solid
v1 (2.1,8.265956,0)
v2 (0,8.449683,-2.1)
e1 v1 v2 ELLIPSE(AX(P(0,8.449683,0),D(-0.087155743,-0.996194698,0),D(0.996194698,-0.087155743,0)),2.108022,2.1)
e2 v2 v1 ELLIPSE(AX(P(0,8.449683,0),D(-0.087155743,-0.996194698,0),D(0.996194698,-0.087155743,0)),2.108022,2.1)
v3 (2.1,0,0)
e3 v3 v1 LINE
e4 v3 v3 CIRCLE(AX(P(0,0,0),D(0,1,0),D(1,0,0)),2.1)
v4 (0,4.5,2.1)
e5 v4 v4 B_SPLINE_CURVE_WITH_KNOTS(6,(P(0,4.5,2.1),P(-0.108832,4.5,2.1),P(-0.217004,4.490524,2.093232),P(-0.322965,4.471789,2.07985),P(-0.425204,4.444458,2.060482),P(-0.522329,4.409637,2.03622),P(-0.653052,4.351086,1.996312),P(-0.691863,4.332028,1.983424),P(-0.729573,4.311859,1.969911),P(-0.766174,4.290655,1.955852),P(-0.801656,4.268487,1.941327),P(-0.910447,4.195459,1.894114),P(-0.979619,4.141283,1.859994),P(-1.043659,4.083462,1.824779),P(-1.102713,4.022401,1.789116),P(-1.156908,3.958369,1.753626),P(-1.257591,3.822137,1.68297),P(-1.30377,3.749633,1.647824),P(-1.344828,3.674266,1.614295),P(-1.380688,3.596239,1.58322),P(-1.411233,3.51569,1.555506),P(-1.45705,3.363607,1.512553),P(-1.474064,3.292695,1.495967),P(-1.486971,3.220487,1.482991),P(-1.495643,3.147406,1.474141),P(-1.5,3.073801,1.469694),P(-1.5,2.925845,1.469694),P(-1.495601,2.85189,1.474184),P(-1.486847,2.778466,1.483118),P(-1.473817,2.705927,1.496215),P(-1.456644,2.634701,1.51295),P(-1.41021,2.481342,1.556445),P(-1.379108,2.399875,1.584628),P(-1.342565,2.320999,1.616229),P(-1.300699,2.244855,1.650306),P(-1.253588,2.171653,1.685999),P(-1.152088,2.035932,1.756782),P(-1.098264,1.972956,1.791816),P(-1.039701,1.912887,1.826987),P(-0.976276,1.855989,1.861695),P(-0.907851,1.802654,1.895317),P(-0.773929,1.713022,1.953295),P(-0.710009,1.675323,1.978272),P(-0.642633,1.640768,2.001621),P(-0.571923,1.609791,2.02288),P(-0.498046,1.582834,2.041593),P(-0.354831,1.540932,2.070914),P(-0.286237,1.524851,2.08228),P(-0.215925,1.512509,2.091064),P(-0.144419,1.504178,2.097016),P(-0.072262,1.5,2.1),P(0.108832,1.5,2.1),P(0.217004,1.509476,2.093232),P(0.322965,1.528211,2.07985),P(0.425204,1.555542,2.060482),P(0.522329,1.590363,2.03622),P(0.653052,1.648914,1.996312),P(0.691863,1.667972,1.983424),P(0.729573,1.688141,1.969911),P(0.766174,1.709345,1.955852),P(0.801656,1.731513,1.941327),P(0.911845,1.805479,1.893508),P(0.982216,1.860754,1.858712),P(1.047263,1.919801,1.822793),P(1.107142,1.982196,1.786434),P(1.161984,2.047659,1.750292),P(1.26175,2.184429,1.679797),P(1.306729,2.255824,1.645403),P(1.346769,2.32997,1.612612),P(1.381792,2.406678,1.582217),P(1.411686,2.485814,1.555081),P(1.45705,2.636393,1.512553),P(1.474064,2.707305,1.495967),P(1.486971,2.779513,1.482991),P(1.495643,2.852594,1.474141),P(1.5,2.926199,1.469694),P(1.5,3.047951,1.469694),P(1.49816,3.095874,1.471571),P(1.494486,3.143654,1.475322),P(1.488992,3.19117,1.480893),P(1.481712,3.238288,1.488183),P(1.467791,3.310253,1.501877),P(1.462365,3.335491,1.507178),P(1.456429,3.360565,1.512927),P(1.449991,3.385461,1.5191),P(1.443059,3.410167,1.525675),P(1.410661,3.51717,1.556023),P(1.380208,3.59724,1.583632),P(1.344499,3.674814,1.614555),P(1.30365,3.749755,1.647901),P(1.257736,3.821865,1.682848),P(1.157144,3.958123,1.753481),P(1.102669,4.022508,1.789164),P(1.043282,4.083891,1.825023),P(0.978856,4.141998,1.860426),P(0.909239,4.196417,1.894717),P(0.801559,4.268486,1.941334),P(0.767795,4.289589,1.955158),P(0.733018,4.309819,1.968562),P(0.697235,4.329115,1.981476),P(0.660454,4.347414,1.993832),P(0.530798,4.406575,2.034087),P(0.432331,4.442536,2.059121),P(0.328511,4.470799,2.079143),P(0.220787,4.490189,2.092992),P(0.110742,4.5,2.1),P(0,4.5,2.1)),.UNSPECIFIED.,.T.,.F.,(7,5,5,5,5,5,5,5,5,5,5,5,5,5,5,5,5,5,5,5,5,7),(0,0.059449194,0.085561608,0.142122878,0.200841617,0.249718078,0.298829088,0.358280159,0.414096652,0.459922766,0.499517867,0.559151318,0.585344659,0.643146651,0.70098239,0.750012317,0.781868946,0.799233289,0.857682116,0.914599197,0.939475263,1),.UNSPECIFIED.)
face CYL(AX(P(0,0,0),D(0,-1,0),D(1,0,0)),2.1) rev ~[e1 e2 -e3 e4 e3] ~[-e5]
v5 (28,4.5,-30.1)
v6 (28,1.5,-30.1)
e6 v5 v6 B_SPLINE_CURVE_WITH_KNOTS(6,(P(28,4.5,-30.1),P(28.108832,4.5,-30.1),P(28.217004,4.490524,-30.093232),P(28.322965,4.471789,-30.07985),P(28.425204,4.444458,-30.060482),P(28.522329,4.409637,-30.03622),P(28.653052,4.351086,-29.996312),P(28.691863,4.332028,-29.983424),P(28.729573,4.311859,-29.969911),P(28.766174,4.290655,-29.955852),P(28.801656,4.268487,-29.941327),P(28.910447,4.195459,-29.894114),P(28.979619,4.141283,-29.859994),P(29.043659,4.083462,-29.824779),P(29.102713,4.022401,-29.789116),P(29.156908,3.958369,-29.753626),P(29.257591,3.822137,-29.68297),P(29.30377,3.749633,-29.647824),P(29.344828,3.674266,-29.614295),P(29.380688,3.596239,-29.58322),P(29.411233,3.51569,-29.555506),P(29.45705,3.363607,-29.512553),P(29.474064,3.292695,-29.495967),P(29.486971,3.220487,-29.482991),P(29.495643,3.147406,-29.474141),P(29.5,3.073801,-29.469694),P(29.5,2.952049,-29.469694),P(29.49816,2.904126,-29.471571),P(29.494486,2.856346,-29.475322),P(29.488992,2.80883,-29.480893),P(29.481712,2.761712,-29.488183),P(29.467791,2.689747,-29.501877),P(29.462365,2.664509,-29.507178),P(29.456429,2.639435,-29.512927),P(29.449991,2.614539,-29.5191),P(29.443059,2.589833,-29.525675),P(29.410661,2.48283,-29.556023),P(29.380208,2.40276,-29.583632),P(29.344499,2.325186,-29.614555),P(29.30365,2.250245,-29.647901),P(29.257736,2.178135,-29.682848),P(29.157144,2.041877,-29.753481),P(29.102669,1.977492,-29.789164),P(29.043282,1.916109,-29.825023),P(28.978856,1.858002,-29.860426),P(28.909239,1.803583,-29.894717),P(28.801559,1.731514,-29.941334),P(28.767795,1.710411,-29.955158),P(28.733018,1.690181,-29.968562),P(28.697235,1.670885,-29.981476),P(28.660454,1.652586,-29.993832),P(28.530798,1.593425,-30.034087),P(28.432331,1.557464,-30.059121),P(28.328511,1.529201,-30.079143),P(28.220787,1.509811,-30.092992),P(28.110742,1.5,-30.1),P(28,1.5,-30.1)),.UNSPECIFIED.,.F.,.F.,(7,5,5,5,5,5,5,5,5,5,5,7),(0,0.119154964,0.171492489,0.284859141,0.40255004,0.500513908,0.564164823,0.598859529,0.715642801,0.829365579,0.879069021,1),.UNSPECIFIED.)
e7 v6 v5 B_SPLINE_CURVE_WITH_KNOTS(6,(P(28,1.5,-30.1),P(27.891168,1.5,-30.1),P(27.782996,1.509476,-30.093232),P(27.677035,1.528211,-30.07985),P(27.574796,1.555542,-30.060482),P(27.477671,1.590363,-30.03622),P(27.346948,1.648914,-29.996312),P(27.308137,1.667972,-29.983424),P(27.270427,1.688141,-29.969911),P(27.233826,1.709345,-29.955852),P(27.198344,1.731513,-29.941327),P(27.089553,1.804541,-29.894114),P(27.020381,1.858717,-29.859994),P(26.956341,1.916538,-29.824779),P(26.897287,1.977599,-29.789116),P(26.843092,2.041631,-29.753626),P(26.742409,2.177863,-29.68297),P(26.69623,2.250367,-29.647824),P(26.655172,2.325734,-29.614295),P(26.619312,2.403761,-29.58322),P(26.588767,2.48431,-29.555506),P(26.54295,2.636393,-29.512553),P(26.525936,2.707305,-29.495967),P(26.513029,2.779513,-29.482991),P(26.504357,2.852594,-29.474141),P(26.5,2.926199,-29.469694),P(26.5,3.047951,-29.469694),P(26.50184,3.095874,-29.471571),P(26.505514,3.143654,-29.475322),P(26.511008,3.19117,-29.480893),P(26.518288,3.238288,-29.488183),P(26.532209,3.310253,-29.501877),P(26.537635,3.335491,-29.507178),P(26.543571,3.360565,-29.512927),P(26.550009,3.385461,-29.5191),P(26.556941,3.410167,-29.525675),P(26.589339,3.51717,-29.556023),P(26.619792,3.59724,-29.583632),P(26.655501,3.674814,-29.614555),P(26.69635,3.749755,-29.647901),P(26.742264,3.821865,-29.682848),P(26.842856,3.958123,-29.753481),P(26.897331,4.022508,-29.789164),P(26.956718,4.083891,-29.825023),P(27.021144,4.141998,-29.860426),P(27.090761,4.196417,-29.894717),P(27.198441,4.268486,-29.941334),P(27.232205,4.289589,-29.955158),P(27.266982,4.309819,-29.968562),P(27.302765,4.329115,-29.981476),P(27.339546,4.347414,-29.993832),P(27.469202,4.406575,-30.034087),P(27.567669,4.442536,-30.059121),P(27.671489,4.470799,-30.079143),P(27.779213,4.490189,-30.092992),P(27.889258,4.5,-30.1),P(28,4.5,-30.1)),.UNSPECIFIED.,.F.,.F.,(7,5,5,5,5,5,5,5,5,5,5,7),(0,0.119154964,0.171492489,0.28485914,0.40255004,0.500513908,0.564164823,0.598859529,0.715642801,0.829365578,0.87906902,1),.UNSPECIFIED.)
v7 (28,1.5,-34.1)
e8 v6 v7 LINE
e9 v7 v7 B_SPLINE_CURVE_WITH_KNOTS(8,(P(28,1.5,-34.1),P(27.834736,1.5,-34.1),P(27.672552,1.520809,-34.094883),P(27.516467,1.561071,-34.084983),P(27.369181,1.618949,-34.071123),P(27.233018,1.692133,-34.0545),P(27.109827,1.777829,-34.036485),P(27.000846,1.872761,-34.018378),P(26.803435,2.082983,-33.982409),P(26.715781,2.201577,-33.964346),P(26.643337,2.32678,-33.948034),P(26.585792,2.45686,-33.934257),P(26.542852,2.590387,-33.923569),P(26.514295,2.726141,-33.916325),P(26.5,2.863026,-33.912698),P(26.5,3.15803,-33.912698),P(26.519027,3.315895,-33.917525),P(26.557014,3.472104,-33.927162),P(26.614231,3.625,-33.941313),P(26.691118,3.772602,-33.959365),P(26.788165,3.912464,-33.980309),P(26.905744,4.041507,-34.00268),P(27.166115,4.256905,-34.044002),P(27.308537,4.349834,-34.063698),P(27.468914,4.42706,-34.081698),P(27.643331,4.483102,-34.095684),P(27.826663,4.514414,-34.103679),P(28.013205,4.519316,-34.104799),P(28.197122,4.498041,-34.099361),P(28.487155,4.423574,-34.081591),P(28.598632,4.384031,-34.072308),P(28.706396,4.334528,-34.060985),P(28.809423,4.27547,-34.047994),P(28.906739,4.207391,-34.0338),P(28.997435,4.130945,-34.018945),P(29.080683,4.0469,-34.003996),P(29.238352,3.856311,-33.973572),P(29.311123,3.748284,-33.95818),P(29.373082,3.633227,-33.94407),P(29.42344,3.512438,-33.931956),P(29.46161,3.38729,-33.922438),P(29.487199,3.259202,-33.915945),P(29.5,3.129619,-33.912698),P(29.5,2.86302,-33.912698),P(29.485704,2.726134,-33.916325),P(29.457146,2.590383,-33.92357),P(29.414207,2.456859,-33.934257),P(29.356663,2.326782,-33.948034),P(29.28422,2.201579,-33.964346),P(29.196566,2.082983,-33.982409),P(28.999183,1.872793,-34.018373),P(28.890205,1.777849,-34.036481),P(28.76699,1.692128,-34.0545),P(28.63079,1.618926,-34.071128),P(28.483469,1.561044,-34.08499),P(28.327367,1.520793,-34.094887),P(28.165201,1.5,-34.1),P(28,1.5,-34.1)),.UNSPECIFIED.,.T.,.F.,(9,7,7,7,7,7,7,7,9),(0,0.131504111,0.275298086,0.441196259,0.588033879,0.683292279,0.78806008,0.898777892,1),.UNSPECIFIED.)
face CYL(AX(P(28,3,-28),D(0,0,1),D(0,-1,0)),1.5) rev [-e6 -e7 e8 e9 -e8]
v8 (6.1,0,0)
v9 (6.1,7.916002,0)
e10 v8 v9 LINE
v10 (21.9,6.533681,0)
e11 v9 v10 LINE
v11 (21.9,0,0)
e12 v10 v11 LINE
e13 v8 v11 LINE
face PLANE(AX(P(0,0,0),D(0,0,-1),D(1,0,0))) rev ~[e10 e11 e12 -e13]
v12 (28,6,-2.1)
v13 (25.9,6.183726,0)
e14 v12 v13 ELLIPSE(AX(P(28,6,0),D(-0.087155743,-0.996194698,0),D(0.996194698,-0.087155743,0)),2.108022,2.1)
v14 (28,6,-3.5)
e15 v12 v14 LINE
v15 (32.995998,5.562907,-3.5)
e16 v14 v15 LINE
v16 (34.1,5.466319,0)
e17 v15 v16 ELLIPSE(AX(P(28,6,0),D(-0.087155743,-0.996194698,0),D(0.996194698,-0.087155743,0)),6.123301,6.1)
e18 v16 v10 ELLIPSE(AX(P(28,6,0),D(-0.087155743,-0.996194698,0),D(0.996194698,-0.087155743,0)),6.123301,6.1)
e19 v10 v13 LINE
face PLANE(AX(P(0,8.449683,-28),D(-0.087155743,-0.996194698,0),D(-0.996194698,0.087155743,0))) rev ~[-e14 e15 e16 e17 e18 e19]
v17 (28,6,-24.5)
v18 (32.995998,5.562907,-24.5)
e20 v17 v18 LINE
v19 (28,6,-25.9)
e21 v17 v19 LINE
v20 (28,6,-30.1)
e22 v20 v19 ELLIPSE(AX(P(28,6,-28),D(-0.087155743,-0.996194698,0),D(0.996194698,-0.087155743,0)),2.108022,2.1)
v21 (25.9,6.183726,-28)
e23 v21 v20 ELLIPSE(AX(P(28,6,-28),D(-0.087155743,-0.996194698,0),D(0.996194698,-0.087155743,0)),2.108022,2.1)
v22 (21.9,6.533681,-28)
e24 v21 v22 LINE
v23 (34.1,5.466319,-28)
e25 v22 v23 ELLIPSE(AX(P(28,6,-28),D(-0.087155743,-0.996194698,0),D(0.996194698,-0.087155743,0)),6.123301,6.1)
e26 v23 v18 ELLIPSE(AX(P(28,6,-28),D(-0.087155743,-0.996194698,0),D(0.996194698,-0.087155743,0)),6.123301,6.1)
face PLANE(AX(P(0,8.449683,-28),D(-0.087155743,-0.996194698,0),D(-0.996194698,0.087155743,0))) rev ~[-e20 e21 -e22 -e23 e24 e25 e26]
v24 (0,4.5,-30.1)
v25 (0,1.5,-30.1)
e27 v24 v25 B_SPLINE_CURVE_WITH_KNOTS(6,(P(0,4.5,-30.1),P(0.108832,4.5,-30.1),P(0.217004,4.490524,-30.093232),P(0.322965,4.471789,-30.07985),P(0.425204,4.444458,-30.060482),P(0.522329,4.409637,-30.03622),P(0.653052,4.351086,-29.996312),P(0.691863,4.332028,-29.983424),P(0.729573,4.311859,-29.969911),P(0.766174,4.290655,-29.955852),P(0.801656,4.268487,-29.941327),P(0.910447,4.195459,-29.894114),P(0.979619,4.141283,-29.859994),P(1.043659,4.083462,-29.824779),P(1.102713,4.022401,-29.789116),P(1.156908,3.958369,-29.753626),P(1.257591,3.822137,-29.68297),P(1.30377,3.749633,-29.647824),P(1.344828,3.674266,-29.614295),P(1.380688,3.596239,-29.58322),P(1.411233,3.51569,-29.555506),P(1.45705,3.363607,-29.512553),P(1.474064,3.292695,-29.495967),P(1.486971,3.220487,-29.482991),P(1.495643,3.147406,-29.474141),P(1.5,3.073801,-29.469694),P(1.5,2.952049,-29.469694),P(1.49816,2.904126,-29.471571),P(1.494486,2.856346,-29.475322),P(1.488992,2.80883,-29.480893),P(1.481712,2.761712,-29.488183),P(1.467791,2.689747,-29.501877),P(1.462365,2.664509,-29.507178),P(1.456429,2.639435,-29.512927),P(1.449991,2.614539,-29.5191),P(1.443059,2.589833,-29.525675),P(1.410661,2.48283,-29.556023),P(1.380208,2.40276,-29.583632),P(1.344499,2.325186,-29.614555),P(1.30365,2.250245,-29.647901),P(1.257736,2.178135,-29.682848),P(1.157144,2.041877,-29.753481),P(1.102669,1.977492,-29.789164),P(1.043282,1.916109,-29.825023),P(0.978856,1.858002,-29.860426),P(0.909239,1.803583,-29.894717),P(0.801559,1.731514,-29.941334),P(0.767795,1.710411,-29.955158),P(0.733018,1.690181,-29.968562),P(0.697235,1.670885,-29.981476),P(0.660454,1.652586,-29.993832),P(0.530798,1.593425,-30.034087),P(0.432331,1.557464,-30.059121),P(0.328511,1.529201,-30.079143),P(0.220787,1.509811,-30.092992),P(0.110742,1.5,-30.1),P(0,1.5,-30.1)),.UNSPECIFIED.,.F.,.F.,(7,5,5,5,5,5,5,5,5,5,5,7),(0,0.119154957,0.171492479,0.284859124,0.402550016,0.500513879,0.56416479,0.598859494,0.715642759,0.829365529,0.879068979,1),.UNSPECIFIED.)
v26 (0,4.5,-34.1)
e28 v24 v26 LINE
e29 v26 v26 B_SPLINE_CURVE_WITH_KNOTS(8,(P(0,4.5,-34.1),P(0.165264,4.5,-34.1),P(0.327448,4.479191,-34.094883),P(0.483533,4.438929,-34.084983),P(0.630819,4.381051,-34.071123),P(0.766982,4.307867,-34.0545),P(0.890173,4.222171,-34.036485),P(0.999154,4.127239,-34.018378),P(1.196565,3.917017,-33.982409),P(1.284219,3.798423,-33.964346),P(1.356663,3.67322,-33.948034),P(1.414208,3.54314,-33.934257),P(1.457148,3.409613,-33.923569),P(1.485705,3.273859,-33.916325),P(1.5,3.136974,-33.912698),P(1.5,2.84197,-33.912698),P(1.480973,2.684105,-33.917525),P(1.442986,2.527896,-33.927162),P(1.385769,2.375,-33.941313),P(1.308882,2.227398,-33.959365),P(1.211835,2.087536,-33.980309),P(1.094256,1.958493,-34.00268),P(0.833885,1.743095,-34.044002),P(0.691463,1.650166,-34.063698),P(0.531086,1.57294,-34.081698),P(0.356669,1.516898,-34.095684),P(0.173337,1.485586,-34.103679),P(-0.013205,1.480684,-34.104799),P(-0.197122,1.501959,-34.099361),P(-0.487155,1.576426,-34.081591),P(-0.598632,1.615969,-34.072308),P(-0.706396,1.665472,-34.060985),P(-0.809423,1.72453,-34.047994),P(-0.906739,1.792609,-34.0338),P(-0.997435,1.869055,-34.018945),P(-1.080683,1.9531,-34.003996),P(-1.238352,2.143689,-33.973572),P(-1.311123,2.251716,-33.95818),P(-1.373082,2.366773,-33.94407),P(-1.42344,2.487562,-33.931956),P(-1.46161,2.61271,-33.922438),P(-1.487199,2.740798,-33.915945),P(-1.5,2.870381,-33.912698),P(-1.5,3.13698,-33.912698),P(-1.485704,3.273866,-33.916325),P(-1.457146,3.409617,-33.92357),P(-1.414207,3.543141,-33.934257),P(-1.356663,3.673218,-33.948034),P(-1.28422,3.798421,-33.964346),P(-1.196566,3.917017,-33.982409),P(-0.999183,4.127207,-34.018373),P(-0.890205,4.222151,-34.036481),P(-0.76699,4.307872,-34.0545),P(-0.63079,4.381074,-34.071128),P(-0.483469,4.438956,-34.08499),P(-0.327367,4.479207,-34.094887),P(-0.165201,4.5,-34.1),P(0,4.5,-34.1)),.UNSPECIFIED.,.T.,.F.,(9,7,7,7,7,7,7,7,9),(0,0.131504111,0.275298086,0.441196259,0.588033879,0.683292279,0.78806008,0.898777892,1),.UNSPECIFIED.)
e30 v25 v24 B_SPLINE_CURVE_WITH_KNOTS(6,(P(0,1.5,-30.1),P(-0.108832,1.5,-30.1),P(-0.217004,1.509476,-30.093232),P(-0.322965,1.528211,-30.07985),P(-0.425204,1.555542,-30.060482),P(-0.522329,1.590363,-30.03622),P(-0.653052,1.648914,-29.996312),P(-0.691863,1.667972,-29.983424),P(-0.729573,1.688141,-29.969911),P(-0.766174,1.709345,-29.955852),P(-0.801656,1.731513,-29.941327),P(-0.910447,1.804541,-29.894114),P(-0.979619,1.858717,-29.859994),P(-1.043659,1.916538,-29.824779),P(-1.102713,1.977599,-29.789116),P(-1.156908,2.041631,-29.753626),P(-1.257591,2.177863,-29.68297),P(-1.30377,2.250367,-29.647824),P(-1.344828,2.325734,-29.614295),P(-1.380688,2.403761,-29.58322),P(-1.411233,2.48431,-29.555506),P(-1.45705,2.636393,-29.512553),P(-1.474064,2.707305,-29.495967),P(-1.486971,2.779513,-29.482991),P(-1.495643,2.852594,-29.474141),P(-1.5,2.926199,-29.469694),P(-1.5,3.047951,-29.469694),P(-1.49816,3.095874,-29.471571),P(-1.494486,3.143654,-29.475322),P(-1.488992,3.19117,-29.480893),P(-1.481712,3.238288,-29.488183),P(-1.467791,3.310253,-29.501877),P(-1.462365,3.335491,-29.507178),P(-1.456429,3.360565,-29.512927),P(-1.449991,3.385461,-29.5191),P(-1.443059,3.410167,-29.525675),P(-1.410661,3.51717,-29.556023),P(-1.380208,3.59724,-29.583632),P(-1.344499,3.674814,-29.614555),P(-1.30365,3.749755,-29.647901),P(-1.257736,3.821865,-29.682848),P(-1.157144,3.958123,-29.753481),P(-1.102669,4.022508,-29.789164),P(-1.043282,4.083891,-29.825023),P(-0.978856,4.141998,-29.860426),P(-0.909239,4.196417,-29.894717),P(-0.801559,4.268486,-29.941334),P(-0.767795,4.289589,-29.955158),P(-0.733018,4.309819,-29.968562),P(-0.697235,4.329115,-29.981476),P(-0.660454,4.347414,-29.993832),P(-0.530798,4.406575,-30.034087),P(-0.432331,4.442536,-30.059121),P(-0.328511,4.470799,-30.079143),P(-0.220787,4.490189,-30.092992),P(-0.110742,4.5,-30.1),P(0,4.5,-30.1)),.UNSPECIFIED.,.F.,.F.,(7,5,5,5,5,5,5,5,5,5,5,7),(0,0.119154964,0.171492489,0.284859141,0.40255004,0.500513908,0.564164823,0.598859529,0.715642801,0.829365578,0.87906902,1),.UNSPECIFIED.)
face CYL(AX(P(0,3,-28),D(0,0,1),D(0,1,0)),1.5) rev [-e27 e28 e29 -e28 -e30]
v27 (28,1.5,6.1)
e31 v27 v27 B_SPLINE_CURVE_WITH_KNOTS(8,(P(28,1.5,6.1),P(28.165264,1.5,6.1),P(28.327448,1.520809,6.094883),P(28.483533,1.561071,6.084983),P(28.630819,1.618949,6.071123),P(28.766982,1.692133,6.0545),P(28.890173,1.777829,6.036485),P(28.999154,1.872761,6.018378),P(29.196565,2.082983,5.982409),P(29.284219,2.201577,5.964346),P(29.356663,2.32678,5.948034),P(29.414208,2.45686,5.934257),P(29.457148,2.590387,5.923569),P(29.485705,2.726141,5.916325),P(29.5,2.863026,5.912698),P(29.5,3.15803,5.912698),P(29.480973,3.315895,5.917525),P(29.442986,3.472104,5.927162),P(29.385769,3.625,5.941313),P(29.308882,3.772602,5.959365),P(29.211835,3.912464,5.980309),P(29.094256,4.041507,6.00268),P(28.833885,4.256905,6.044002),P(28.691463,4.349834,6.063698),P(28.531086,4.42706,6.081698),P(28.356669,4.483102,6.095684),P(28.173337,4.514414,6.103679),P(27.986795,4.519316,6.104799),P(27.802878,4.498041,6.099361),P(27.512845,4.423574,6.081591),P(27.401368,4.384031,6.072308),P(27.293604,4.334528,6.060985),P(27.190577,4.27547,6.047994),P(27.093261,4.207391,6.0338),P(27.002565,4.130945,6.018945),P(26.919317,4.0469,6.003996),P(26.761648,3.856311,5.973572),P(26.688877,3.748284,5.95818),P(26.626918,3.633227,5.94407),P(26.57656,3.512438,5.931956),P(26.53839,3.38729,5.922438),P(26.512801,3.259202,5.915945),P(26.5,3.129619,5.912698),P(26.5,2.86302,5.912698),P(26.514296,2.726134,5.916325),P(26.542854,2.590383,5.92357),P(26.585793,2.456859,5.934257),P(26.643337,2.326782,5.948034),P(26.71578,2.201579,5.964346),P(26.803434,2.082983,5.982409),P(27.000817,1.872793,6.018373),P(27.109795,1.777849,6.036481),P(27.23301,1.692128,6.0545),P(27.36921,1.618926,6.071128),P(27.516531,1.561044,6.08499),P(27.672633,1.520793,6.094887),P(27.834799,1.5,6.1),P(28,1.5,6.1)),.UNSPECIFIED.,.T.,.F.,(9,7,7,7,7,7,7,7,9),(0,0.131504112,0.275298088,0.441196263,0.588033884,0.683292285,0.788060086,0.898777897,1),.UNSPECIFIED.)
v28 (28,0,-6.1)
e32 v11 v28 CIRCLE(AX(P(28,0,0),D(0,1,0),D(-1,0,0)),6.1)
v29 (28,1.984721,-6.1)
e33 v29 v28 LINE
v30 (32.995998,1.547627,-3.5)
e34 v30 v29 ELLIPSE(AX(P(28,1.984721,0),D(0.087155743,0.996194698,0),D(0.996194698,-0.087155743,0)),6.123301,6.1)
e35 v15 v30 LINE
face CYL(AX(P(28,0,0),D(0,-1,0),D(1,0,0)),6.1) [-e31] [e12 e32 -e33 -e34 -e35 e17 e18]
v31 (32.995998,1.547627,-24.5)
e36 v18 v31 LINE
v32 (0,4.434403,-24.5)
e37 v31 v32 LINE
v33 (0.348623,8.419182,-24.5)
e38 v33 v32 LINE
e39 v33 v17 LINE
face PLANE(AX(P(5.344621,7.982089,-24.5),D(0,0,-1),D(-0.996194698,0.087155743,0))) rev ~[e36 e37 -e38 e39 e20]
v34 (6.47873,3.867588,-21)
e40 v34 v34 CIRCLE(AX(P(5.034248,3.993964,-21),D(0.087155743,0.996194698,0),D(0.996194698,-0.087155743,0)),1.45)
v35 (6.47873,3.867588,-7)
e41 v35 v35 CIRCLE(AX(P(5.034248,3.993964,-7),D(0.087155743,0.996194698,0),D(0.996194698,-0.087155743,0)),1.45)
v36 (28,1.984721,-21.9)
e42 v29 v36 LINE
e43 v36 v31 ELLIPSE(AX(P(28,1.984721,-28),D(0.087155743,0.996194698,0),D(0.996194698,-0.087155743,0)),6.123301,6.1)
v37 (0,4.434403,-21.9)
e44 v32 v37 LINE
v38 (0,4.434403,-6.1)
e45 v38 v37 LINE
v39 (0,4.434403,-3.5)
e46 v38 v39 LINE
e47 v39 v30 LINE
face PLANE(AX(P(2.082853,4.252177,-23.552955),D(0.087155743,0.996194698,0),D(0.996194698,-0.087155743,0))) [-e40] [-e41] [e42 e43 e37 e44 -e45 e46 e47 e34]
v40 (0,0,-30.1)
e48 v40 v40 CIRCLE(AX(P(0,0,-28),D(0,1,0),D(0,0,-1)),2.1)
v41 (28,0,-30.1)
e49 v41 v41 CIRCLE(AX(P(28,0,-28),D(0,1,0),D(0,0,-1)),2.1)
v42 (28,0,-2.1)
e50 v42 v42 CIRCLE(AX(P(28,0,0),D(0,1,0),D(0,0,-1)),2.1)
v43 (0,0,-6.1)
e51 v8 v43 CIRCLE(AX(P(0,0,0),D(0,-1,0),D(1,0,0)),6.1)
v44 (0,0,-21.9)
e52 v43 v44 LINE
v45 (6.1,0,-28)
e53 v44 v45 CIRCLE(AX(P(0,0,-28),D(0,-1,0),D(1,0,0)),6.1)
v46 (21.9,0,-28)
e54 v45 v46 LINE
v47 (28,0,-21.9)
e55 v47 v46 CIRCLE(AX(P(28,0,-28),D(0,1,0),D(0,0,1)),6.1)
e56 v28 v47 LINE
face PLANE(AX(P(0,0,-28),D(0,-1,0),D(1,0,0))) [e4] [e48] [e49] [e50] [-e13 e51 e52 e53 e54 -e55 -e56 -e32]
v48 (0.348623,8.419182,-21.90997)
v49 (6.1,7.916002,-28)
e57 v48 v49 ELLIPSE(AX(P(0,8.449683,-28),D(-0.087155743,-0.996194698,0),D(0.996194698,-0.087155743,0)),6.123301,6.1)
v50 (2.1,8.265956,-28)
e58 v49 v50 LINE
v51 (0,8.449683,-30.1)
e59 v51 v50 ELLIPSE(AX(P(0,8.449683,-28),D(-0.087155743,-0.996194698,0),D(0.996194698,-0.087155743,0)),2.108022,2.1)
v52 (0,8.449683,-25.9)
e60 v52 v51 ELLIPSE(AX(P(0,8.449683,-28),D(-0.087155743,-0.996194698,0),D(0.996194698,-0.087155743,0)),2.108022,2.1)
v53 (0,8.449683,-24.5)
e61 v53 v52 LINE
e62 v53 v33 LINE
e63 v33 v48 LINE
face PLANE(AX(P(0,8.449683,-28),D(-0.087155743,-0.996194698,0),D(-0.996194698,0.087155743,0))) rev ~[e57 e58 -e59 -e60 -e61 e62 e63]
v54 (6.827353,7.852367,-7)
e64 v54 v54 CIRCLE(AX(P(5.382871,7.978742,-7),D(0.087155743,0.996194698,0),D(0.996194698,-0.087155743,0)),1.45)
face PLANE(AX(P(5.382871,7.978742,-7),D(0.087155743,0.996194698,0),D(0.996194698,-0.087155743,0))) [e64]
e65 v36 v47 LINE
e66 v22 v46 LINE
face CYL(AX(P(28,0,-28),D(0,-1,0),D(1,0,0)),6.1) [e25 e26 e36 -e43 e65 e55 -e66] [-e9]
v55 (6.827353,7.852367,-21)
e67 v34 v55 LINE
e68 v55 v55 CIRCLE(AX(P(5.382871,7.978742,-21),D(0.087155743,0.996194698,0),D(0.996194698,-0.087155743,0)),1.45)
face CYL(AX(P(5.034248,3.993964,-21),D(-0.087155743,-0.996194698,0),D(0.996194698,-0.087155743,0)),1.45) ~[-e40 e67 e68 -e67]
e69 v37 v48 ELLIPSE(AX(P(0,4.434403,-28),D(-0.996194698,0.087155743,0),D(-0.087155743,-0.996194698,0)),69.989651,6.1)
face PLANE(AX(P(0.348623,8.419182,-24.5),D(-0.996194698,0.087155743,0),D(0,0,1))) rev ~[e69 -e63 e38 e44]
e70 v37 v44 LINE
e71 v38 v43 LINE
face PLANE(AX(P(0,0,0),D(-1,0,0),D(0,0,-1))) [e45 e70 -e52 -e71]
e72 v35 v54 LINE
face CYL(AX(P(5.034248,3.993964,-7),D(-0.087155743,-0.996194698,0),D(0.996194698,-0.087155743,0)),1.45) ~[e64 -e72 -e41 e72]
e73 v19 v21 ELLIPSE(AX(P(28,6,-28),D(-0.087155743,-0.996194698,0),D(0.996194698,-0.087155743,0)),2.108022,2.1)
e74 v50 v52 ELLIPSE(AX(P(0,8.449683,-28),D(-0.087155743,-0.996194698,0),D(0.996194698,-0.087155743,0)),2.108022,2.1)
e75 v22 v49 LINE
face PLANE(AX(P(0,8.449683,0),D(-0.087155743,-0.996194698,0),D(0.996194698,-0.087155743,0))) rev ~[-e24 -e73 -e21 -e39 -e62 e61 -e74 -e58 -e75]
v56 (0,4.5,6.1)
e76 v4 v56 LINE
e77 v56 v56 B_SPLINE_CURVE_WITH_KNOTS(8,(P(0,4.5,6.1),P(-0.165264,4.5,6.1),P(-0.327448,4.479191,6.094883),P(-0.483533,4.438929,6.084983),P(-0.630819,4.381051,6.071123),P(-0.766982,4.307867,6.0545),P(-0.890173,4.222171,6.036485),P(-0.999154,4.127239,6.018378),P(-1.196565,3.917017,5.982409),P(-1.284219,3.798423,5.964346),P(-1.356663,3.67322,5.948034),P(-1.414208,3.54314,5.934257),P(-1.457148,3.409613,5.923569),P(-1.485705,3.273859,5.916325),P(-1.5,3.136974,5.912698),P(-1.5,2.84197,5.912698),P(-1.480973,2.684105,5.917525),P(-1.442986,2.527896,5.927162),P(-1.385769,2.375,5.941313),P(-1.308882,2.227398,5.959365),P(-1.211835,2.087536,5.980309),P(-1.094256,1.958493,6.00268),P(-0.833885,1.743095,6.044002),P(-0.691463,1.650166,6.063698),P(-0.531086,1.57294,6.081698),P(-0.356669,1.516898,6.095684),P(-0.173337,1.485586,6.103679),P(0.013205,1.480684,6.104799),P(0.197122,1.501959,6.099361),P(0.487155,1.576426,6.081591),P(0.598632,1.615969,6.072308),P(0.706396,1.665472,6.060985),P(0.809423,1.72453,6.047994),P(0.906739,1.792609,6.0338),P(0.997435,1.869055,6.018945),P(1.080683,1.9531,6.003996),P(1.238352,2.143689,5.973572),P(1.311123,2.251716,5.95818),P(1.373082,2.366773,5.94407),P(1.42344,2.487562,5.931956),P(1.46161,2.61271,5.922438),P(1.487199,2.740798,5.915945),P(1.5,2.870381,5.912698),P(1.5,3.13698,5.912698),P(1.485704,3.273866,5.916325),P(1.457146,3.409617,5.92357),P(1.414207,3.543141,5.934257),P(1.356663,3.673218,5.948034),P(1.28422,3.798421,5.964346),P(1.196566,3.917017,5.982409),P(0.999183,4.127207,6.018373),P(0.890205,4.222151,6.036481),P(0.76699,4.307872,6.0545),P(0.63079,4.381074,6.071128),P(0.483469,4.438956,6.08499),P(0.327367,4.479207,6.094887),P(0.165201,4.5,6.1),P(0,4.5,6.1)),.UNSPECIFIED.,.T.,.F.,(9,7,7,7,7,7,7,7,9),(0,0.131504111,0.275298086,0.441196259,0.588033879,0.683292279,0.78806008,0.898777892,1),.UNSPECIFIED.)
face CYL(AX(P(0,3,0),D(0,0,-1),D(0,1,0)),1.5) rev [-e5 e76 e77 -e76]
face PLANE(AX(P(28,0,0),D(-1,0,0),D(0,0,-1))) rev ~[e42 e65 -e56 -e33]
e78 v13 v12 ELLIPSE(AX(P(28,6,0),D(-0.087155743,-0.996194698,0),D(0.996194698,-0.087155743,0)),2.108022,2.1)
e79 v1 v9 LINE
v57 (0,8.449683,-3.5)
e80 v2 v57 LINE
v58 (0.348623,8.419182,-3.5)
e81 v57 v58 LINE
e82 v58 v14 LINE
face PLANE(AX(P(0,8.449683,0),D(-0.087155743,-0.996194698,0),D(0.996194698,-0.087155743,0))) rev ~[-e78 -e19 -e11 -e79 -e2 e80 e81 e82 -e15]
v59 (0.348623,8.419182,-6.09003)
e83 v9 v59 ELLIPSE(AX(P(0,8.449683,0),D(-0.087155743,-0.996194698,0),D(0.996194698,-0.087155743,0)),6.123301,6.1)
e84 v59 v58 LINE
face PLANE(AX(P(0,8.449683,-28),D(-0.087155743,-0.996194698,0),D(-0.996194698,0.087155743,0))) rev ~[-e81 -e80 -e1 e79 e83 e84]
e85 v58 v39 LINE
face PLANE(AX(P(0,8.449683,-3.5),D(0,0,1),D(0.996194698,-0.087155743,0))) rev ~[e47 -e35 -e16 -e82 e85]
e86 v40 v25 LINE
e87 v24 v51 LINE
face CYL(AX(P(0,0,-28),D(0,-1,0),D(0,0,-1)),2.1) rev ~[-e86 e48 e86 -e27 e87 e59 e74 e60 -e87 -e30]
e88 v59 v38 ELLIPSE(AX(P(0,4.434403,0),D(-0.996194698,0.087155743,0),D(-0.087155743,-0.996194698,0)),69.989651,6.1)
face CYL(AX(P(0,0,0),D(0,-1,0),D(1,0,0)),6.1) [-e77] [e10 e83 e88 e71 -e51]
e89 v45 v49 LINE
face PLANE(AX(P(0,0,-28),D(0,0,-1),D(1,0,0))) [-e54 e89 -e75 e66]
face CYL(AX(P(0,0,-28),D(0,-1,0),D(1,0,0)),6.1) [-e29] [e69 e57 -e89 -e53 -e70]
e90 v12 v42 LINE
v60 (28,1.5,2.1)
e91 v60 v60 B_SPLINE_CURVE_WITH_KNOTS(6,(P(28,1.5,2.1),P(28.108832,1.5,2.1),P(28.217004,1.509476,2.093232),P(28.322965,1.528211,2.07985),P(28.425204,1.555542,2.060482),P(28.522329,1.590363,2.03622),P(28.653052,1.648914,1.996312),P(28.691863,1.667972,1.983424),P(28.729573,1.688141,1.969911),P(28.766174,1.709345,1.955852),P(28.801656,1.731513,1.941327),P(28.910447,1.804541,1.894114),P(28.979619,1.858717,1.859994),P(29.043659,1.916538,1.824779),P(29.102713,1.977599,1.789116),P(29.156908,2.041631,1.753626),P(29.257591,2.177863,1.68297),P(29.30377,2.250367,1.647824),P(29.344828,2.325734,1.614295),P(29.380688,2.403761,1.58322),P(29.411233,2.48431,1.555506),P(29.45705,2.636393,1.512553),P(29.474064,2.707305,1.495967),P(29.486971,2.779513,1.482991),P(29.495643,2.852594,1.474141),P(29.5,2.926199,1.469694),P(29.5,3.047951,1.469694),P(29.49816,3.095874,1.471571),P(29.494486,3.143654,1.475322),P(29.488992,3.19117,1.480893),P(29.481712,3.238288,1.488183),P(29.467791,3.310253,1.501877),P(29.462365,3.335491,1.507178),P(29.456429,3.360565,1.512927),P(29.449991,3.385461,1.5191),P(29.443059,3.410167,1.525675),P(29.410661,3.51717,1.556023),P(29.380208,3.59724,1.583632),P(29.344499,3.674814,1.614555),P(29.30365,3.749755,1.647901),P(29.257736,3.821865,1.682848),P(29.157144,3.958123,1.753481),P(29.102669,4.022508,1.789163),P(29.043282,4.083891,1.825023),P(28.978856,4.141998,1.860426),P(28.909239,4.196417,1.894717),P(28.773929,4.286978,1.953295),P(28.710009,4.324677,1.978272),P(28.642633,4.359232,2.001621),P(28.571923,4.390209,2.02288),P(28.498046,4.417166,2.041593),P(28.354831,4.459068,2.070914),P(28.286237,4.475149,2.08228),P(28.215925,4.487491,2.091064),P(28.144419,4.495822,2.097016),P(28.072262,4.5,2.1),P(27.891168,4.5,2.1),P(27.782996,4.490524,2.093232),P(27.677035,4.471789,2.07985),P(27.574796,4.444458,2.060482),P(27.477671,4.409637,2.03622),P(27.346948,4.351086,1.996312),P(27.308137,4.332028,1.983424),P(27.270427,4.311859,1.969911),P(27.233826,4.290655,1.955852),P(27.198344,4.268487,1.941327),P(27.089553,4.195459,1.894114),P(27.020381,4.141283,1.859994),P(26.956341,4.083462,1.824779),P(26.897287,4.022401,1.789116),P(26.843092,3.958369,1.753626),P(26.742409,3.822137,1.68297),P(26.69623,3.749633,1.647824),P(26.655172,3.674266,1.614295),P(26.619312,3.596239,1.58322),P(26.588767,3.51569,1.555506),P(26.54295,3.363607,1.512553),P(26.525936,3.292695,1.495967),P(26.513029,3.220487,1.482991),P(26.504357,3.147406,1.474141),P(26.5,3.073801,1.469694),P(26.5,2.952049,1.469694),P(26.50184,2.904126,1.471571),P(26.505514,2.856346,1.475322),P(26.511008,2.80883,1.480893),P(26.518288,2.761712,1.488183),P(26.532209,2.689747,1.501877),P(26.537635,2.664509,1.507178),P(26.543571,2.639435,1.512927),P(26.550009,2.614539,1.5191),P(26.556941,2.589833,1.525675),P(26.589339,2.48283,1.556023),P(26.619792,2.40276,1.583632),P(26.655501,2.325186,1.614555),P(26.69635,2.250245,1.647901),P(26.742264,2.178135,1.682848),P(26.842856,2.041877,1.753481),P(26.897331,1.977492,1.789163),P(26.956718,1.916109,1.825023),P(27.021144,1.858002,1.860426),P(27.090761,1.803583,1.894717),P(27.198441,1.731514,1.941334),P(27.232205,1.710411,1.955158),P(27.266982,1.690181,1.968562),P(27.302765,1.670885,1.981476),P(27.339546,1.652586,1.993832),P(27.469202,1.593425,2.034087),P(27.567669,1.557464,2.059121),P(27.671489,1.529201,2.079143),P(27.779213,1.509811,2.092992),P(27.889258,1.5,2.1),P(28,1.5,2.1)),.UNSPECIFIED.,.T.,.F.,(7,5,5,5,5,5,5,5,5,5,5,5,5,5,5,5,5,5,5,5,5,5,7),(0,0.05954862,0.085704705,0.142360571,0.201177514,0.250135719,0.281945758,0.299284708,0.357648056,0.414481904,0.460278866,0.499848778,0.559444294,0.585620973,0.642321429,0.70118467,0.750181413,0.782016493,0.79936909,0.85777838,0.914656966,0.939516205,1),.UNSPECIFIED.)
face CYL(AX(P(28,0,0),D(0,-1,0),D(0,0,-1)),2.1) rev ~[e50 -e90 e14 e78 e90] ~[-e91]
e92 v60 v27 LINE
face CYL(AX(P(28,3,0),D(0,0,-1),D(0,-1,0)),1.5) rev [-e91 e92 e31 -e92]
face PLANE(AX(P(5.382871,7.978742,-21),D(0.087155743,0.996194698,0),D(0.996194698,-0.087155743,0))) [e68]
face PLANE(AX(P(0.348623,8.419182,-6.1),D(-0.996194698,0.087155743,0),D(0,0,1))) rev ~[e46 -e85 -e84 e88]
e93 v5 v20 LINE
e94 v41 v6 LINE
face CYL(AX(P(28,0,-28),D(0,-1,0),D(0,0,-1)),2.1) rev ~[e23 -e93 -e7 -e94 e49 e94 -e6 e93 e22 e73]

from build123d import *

# Parameters (mm, degrees)
SKETCH1_W           = 28
SKETCH1_H           = 28
BOSS_EXTRUDE1_DEPTH = 8.449682579
CUT_EXTRUDE1_DEPTH  = 41.489469442
SKETCH3_W           = 50
SKETCH3_H           = 21
CUT_EXTRUDE2_DEPTH  = 4
SKETCH11_R          = 1.45
BOSS_EXTRUDE2_DEPTH = 4
SKETCH13_R          = 2.1
CUT_EXTRUDE5_DEPTH  = 41.489469442
BOSS_EXTRUDE3_REACH = 42.489
SKETCH14_R          = 6.1
SKETCH14_R_2        = 2.1
SKETCH15_R          = 1.5
CUT_EXTRUDE6_DEPTH  = 50.054264019
SKETCH16_R          = 1.5
CUT_EXTRUDE7_DEPTH  = 50.054264176
SKETCH18_W          = 30
SKETCH18_H          = 21
CUT_EXTRUDE8_DEPTH  = 4


with BuildPart() as part:
    # Sketch1 → Boss-Extrude1 (new body)
    with BuildSketch(Plane(origin=(0, 0, 0), x_dir=(1, 0, 0), z_dir=(0, 1, 0))):
        with Locations((14, 14)):
            Rectangle(SKETCH1_W, SKETCH1_H)
    extrude(amount=BOSS_EXTRUDE1_DEPTH)

    # Sketch2 → Cut-Extrude1 (cut, through all)
    with BuildSketch(Plane.XY):
        Polygon((0, 8.449682579), (28, 6), (28, 8.449682579), align=None)
    extrude(amount=-CUT_EXTRUDE1_DEPTH, mode=Mode.SUBTRACT)

    # Sketch3 → Cut-Extrude2 (cut)
    with BuildSketch(Plane(origin=(0.733635991, 8.385497746, 0), x_dir=(0.9961946980917455, -0.08715574274765811, 0), z_dir=(0.08715574274765811, 0.9961946980917455, 0))):
        with Locations((24.263561639, 14)):
            Rectangle(SKETCH3_W, SKETCH3_H)
    extrude(amount=-CUT_EXTRUDE2_DEPTH, mode=Mode.SUBTRACT)

    # Sketch11 → Boss-Extrude2 (add)
    with BuildSketch(Plane(origin=(0.38501302, 4.400718954, 0), x_dir=(0.9961946980917457, -0.08715574274765812, 0), z_dir=(0.08715574274765812, 0.9961946980917457, 0))):
        with Locations((4.666994019, 21)):
            Circle(SKETCH11_R)
        with Locations((4.666994019, 7)):
            Circle(SKETCH11_R)
    extrude(amount=BOSS_EXTRUDE2_DEPTH)

    # Sketch13 → Cut-Extrude5 (cut, through all)
    with BuildSketch(Plane.XZ):
        Circle(SKETCH13_R)
        with Locations((28, 0)):
            Circle(SKETCH13_R)
        with Locations((28, -28)):
            Circle(SKETCH13_R)
        with Locations((0, -28)):
            Circle(SKETCH13_R)
    extrude(amount=-CUT_EXTRUDE5_DEPTH, mode=Mode.SUBTRACT)

    # Boss-Extrude3: up to this plane
    boss_extrude3_end = Plane(origin=(0, 8.449682579, -28), z_dir=(-0.08715574274765814, -0.9961946980917457, 0))
    # Sketch14 → Boss-Extrude3 (add, up to the surface)
    with BuildSketch(Plane.XZ, mode=Mode.PRIVATE) as boss_extrude3_sk1:
        Circle(SKETCH14_R)
        with Locations(Location((0, 0, 0), (0, 0, 270))):
            Circle(SKETCH14_R_2, mode=Mode.SUBTRACT)
    boss_extrude3_tool1 = split(extrude(boss_extrude3_sk1.sketch, amount=-BOSS_EXTRUDE3_REACH, mode=Mode.PRIVATE), bisect_by=boss_extrude3_end, keep=Keep.BOTH, mode=Mode.PRIVATE)
    add(boss_extrude3_tool1.solids().sort_by_distance((-5.927466, 0, 0))[0])
    # Sketch14 → Boss-Extrude3 (add, up to the surface)
    with BuildSketch(Plane.XZ, mode=Mode.PRIVATE) as boss_extrude3_sk2:
        with Locations((28, 0)):
            Circle(SKETCH14_R)
        with Locations(Location((28, 0, 0), (0, 0, 270))):
            Circle(SKETCH14_R_2, mode=Mode.SUBTRACT)
    boss_extrude3_tool2 = split(extrude(boss_extrude3_sk2.sketch, amount=-BOSS_EXTRUDE3_REACH, mode=Mode.PRIVATE), bisect_by=boss_extrude3_end, keep=Keep.BOTH, mode=Mode.PRIVATE)
    add(boss_extrude3_tool2.solids().sort_by_distance((22.072534, 0, 0))[0])
    # Sketch14 → Boss-Extrude3 (add, up to the surface)
    with BuildSketch(Plane.XZ, mode=Mode.PRIVATE) as boss_extrude3_sk3:
        with Locations((28, -28)):
            Circle(SKETCH14_R)
        with Locations(Location((28, -28, 0), (0, 0, 270))):
            Circle(SKETCH14_R_2, mode=Mode.SUBTRACT)
    boss_extrude3_tool3 = split(extrude(boss_extrude3_sk3.sketch, amount=-BOSS_EXTRUDE3_REACH, mode=Mode.PRIVATE), bisect_by=boss_extrude3_end, keep=Keep.BOTH, mode=Mode.PRIVATE)
    add(boss_extrude3_tool3.solids().sort_by_distance((22.072534, 0, -28))[0])
    # Sketch14 → Boss-Extrude3 (add, up to the surface)
    with BuildSketch(Plane.XZ, mode=Mode.PRIVATE) as boss_extrude3_sk4:
        with Locations((0, -28)):
            Circle(SKETCH14_R)
        with Locations(Location((0, -28, 0), (0, 0, 270))):
            Circle(SKETCH14_R_2, mode=Mode.SUBTRACT)
    boss_extrude3_tool4 = split(extrude(boss_extrude3_sk4.sketch, amount=-BOSS_EXTRUDE3_REACH, mode=Mode.PRIVATE), bisect_by=boss_extrude3_end, keep=Keep.BOTH, mode=Mode.PRIVATE)
    add(boss_extrude3_tool4.solids().sort_by_distance((-5.927466, 0, -28))[0])

    # Sketch15 → Cut-Extrude6 (cut, through all)
    with BuildSketch(Plane(origin=(0, 0, -28), x_dir=(-1, 0, 0), z_dir=(0, 0, -1))):
        with Locations(Location((-28, 3, 0), (0, 0, 270))):
            Circle(SKETCH15_R)
        with Locations(Location((0, 3, 0), (0, 0, 90))):
            Circle(SKETCH15_R)
    extrude(amount=CUT_EXTRUDE6_DEPTH, mode=Mode.SUBTRACT)

    # Sketch16 → Cut-Extrude7 (cut, through all)
    with BuildSketch(Plane.XY):
        with Locations(Location((0, 3, 0), (0, 0, 90))):
            Circle(SKETCH16_R)
        with Locations(Location((28, 3, 0), (0, 0, 270))):
            Circle(SKETCH16_R)
    extrude(amount=CUT_EXTRUDE7_DEPTH, mode=Mode.SUBTRACT)

    # Sketch18 → Cut-Extrude8 (cut)
    with BuildSketch(Plane(origin=(0.733635991, 8.385497746, 0), x_dir=(0.9961946980917455, -0.08715574274765811, 0), z_dir=(0.08715574274765811, 0.9961946980917455, 0))):
        with BuildLine():
            Line((4.628598594, 24.5), (-0.386483707, 24.5))
            Line((-0.386483707, 24.5), (-0.386483707, 21.9))
            add(Edge.make_bspline(
                [(-0.386483707, 21.9), (2.800183172, 21.9), (4.628598594, 24.5)],
                knots=[4.71238898, 4.71238898, 4.71238898, 5.672083151, 5.672083151, 5.672083151], degree=2, weights=[1, 0.887065525, 1]))
        make_face()
        with Locations((22.355434789, 14)):
            Rectangle(SKETCH18_W, SKETCH18_H)
        with BuildLine():
            Line((-0.386483707, 6.1), (-0.386483707, 3.5))
            Line((-0.386483707, 3.5), (4.628598594, 3.5))
            add(Edge.make_bspline(
                [(4.628598594, 3.5), (2.800183172, 6.1), (-0.386483707, 6.1)],
                knots=[0.611102156, 0.611102156, 0.611102156, 1.570796327, 1.570796327, 1.570796327], degree=2, weights=[1, 0.887065525, 1]))
        make_face()
    extrude(amount=-CUT_EXTRUDE8_DEPTH, mode=Mode.SUBTRACT)


solid = part.part
